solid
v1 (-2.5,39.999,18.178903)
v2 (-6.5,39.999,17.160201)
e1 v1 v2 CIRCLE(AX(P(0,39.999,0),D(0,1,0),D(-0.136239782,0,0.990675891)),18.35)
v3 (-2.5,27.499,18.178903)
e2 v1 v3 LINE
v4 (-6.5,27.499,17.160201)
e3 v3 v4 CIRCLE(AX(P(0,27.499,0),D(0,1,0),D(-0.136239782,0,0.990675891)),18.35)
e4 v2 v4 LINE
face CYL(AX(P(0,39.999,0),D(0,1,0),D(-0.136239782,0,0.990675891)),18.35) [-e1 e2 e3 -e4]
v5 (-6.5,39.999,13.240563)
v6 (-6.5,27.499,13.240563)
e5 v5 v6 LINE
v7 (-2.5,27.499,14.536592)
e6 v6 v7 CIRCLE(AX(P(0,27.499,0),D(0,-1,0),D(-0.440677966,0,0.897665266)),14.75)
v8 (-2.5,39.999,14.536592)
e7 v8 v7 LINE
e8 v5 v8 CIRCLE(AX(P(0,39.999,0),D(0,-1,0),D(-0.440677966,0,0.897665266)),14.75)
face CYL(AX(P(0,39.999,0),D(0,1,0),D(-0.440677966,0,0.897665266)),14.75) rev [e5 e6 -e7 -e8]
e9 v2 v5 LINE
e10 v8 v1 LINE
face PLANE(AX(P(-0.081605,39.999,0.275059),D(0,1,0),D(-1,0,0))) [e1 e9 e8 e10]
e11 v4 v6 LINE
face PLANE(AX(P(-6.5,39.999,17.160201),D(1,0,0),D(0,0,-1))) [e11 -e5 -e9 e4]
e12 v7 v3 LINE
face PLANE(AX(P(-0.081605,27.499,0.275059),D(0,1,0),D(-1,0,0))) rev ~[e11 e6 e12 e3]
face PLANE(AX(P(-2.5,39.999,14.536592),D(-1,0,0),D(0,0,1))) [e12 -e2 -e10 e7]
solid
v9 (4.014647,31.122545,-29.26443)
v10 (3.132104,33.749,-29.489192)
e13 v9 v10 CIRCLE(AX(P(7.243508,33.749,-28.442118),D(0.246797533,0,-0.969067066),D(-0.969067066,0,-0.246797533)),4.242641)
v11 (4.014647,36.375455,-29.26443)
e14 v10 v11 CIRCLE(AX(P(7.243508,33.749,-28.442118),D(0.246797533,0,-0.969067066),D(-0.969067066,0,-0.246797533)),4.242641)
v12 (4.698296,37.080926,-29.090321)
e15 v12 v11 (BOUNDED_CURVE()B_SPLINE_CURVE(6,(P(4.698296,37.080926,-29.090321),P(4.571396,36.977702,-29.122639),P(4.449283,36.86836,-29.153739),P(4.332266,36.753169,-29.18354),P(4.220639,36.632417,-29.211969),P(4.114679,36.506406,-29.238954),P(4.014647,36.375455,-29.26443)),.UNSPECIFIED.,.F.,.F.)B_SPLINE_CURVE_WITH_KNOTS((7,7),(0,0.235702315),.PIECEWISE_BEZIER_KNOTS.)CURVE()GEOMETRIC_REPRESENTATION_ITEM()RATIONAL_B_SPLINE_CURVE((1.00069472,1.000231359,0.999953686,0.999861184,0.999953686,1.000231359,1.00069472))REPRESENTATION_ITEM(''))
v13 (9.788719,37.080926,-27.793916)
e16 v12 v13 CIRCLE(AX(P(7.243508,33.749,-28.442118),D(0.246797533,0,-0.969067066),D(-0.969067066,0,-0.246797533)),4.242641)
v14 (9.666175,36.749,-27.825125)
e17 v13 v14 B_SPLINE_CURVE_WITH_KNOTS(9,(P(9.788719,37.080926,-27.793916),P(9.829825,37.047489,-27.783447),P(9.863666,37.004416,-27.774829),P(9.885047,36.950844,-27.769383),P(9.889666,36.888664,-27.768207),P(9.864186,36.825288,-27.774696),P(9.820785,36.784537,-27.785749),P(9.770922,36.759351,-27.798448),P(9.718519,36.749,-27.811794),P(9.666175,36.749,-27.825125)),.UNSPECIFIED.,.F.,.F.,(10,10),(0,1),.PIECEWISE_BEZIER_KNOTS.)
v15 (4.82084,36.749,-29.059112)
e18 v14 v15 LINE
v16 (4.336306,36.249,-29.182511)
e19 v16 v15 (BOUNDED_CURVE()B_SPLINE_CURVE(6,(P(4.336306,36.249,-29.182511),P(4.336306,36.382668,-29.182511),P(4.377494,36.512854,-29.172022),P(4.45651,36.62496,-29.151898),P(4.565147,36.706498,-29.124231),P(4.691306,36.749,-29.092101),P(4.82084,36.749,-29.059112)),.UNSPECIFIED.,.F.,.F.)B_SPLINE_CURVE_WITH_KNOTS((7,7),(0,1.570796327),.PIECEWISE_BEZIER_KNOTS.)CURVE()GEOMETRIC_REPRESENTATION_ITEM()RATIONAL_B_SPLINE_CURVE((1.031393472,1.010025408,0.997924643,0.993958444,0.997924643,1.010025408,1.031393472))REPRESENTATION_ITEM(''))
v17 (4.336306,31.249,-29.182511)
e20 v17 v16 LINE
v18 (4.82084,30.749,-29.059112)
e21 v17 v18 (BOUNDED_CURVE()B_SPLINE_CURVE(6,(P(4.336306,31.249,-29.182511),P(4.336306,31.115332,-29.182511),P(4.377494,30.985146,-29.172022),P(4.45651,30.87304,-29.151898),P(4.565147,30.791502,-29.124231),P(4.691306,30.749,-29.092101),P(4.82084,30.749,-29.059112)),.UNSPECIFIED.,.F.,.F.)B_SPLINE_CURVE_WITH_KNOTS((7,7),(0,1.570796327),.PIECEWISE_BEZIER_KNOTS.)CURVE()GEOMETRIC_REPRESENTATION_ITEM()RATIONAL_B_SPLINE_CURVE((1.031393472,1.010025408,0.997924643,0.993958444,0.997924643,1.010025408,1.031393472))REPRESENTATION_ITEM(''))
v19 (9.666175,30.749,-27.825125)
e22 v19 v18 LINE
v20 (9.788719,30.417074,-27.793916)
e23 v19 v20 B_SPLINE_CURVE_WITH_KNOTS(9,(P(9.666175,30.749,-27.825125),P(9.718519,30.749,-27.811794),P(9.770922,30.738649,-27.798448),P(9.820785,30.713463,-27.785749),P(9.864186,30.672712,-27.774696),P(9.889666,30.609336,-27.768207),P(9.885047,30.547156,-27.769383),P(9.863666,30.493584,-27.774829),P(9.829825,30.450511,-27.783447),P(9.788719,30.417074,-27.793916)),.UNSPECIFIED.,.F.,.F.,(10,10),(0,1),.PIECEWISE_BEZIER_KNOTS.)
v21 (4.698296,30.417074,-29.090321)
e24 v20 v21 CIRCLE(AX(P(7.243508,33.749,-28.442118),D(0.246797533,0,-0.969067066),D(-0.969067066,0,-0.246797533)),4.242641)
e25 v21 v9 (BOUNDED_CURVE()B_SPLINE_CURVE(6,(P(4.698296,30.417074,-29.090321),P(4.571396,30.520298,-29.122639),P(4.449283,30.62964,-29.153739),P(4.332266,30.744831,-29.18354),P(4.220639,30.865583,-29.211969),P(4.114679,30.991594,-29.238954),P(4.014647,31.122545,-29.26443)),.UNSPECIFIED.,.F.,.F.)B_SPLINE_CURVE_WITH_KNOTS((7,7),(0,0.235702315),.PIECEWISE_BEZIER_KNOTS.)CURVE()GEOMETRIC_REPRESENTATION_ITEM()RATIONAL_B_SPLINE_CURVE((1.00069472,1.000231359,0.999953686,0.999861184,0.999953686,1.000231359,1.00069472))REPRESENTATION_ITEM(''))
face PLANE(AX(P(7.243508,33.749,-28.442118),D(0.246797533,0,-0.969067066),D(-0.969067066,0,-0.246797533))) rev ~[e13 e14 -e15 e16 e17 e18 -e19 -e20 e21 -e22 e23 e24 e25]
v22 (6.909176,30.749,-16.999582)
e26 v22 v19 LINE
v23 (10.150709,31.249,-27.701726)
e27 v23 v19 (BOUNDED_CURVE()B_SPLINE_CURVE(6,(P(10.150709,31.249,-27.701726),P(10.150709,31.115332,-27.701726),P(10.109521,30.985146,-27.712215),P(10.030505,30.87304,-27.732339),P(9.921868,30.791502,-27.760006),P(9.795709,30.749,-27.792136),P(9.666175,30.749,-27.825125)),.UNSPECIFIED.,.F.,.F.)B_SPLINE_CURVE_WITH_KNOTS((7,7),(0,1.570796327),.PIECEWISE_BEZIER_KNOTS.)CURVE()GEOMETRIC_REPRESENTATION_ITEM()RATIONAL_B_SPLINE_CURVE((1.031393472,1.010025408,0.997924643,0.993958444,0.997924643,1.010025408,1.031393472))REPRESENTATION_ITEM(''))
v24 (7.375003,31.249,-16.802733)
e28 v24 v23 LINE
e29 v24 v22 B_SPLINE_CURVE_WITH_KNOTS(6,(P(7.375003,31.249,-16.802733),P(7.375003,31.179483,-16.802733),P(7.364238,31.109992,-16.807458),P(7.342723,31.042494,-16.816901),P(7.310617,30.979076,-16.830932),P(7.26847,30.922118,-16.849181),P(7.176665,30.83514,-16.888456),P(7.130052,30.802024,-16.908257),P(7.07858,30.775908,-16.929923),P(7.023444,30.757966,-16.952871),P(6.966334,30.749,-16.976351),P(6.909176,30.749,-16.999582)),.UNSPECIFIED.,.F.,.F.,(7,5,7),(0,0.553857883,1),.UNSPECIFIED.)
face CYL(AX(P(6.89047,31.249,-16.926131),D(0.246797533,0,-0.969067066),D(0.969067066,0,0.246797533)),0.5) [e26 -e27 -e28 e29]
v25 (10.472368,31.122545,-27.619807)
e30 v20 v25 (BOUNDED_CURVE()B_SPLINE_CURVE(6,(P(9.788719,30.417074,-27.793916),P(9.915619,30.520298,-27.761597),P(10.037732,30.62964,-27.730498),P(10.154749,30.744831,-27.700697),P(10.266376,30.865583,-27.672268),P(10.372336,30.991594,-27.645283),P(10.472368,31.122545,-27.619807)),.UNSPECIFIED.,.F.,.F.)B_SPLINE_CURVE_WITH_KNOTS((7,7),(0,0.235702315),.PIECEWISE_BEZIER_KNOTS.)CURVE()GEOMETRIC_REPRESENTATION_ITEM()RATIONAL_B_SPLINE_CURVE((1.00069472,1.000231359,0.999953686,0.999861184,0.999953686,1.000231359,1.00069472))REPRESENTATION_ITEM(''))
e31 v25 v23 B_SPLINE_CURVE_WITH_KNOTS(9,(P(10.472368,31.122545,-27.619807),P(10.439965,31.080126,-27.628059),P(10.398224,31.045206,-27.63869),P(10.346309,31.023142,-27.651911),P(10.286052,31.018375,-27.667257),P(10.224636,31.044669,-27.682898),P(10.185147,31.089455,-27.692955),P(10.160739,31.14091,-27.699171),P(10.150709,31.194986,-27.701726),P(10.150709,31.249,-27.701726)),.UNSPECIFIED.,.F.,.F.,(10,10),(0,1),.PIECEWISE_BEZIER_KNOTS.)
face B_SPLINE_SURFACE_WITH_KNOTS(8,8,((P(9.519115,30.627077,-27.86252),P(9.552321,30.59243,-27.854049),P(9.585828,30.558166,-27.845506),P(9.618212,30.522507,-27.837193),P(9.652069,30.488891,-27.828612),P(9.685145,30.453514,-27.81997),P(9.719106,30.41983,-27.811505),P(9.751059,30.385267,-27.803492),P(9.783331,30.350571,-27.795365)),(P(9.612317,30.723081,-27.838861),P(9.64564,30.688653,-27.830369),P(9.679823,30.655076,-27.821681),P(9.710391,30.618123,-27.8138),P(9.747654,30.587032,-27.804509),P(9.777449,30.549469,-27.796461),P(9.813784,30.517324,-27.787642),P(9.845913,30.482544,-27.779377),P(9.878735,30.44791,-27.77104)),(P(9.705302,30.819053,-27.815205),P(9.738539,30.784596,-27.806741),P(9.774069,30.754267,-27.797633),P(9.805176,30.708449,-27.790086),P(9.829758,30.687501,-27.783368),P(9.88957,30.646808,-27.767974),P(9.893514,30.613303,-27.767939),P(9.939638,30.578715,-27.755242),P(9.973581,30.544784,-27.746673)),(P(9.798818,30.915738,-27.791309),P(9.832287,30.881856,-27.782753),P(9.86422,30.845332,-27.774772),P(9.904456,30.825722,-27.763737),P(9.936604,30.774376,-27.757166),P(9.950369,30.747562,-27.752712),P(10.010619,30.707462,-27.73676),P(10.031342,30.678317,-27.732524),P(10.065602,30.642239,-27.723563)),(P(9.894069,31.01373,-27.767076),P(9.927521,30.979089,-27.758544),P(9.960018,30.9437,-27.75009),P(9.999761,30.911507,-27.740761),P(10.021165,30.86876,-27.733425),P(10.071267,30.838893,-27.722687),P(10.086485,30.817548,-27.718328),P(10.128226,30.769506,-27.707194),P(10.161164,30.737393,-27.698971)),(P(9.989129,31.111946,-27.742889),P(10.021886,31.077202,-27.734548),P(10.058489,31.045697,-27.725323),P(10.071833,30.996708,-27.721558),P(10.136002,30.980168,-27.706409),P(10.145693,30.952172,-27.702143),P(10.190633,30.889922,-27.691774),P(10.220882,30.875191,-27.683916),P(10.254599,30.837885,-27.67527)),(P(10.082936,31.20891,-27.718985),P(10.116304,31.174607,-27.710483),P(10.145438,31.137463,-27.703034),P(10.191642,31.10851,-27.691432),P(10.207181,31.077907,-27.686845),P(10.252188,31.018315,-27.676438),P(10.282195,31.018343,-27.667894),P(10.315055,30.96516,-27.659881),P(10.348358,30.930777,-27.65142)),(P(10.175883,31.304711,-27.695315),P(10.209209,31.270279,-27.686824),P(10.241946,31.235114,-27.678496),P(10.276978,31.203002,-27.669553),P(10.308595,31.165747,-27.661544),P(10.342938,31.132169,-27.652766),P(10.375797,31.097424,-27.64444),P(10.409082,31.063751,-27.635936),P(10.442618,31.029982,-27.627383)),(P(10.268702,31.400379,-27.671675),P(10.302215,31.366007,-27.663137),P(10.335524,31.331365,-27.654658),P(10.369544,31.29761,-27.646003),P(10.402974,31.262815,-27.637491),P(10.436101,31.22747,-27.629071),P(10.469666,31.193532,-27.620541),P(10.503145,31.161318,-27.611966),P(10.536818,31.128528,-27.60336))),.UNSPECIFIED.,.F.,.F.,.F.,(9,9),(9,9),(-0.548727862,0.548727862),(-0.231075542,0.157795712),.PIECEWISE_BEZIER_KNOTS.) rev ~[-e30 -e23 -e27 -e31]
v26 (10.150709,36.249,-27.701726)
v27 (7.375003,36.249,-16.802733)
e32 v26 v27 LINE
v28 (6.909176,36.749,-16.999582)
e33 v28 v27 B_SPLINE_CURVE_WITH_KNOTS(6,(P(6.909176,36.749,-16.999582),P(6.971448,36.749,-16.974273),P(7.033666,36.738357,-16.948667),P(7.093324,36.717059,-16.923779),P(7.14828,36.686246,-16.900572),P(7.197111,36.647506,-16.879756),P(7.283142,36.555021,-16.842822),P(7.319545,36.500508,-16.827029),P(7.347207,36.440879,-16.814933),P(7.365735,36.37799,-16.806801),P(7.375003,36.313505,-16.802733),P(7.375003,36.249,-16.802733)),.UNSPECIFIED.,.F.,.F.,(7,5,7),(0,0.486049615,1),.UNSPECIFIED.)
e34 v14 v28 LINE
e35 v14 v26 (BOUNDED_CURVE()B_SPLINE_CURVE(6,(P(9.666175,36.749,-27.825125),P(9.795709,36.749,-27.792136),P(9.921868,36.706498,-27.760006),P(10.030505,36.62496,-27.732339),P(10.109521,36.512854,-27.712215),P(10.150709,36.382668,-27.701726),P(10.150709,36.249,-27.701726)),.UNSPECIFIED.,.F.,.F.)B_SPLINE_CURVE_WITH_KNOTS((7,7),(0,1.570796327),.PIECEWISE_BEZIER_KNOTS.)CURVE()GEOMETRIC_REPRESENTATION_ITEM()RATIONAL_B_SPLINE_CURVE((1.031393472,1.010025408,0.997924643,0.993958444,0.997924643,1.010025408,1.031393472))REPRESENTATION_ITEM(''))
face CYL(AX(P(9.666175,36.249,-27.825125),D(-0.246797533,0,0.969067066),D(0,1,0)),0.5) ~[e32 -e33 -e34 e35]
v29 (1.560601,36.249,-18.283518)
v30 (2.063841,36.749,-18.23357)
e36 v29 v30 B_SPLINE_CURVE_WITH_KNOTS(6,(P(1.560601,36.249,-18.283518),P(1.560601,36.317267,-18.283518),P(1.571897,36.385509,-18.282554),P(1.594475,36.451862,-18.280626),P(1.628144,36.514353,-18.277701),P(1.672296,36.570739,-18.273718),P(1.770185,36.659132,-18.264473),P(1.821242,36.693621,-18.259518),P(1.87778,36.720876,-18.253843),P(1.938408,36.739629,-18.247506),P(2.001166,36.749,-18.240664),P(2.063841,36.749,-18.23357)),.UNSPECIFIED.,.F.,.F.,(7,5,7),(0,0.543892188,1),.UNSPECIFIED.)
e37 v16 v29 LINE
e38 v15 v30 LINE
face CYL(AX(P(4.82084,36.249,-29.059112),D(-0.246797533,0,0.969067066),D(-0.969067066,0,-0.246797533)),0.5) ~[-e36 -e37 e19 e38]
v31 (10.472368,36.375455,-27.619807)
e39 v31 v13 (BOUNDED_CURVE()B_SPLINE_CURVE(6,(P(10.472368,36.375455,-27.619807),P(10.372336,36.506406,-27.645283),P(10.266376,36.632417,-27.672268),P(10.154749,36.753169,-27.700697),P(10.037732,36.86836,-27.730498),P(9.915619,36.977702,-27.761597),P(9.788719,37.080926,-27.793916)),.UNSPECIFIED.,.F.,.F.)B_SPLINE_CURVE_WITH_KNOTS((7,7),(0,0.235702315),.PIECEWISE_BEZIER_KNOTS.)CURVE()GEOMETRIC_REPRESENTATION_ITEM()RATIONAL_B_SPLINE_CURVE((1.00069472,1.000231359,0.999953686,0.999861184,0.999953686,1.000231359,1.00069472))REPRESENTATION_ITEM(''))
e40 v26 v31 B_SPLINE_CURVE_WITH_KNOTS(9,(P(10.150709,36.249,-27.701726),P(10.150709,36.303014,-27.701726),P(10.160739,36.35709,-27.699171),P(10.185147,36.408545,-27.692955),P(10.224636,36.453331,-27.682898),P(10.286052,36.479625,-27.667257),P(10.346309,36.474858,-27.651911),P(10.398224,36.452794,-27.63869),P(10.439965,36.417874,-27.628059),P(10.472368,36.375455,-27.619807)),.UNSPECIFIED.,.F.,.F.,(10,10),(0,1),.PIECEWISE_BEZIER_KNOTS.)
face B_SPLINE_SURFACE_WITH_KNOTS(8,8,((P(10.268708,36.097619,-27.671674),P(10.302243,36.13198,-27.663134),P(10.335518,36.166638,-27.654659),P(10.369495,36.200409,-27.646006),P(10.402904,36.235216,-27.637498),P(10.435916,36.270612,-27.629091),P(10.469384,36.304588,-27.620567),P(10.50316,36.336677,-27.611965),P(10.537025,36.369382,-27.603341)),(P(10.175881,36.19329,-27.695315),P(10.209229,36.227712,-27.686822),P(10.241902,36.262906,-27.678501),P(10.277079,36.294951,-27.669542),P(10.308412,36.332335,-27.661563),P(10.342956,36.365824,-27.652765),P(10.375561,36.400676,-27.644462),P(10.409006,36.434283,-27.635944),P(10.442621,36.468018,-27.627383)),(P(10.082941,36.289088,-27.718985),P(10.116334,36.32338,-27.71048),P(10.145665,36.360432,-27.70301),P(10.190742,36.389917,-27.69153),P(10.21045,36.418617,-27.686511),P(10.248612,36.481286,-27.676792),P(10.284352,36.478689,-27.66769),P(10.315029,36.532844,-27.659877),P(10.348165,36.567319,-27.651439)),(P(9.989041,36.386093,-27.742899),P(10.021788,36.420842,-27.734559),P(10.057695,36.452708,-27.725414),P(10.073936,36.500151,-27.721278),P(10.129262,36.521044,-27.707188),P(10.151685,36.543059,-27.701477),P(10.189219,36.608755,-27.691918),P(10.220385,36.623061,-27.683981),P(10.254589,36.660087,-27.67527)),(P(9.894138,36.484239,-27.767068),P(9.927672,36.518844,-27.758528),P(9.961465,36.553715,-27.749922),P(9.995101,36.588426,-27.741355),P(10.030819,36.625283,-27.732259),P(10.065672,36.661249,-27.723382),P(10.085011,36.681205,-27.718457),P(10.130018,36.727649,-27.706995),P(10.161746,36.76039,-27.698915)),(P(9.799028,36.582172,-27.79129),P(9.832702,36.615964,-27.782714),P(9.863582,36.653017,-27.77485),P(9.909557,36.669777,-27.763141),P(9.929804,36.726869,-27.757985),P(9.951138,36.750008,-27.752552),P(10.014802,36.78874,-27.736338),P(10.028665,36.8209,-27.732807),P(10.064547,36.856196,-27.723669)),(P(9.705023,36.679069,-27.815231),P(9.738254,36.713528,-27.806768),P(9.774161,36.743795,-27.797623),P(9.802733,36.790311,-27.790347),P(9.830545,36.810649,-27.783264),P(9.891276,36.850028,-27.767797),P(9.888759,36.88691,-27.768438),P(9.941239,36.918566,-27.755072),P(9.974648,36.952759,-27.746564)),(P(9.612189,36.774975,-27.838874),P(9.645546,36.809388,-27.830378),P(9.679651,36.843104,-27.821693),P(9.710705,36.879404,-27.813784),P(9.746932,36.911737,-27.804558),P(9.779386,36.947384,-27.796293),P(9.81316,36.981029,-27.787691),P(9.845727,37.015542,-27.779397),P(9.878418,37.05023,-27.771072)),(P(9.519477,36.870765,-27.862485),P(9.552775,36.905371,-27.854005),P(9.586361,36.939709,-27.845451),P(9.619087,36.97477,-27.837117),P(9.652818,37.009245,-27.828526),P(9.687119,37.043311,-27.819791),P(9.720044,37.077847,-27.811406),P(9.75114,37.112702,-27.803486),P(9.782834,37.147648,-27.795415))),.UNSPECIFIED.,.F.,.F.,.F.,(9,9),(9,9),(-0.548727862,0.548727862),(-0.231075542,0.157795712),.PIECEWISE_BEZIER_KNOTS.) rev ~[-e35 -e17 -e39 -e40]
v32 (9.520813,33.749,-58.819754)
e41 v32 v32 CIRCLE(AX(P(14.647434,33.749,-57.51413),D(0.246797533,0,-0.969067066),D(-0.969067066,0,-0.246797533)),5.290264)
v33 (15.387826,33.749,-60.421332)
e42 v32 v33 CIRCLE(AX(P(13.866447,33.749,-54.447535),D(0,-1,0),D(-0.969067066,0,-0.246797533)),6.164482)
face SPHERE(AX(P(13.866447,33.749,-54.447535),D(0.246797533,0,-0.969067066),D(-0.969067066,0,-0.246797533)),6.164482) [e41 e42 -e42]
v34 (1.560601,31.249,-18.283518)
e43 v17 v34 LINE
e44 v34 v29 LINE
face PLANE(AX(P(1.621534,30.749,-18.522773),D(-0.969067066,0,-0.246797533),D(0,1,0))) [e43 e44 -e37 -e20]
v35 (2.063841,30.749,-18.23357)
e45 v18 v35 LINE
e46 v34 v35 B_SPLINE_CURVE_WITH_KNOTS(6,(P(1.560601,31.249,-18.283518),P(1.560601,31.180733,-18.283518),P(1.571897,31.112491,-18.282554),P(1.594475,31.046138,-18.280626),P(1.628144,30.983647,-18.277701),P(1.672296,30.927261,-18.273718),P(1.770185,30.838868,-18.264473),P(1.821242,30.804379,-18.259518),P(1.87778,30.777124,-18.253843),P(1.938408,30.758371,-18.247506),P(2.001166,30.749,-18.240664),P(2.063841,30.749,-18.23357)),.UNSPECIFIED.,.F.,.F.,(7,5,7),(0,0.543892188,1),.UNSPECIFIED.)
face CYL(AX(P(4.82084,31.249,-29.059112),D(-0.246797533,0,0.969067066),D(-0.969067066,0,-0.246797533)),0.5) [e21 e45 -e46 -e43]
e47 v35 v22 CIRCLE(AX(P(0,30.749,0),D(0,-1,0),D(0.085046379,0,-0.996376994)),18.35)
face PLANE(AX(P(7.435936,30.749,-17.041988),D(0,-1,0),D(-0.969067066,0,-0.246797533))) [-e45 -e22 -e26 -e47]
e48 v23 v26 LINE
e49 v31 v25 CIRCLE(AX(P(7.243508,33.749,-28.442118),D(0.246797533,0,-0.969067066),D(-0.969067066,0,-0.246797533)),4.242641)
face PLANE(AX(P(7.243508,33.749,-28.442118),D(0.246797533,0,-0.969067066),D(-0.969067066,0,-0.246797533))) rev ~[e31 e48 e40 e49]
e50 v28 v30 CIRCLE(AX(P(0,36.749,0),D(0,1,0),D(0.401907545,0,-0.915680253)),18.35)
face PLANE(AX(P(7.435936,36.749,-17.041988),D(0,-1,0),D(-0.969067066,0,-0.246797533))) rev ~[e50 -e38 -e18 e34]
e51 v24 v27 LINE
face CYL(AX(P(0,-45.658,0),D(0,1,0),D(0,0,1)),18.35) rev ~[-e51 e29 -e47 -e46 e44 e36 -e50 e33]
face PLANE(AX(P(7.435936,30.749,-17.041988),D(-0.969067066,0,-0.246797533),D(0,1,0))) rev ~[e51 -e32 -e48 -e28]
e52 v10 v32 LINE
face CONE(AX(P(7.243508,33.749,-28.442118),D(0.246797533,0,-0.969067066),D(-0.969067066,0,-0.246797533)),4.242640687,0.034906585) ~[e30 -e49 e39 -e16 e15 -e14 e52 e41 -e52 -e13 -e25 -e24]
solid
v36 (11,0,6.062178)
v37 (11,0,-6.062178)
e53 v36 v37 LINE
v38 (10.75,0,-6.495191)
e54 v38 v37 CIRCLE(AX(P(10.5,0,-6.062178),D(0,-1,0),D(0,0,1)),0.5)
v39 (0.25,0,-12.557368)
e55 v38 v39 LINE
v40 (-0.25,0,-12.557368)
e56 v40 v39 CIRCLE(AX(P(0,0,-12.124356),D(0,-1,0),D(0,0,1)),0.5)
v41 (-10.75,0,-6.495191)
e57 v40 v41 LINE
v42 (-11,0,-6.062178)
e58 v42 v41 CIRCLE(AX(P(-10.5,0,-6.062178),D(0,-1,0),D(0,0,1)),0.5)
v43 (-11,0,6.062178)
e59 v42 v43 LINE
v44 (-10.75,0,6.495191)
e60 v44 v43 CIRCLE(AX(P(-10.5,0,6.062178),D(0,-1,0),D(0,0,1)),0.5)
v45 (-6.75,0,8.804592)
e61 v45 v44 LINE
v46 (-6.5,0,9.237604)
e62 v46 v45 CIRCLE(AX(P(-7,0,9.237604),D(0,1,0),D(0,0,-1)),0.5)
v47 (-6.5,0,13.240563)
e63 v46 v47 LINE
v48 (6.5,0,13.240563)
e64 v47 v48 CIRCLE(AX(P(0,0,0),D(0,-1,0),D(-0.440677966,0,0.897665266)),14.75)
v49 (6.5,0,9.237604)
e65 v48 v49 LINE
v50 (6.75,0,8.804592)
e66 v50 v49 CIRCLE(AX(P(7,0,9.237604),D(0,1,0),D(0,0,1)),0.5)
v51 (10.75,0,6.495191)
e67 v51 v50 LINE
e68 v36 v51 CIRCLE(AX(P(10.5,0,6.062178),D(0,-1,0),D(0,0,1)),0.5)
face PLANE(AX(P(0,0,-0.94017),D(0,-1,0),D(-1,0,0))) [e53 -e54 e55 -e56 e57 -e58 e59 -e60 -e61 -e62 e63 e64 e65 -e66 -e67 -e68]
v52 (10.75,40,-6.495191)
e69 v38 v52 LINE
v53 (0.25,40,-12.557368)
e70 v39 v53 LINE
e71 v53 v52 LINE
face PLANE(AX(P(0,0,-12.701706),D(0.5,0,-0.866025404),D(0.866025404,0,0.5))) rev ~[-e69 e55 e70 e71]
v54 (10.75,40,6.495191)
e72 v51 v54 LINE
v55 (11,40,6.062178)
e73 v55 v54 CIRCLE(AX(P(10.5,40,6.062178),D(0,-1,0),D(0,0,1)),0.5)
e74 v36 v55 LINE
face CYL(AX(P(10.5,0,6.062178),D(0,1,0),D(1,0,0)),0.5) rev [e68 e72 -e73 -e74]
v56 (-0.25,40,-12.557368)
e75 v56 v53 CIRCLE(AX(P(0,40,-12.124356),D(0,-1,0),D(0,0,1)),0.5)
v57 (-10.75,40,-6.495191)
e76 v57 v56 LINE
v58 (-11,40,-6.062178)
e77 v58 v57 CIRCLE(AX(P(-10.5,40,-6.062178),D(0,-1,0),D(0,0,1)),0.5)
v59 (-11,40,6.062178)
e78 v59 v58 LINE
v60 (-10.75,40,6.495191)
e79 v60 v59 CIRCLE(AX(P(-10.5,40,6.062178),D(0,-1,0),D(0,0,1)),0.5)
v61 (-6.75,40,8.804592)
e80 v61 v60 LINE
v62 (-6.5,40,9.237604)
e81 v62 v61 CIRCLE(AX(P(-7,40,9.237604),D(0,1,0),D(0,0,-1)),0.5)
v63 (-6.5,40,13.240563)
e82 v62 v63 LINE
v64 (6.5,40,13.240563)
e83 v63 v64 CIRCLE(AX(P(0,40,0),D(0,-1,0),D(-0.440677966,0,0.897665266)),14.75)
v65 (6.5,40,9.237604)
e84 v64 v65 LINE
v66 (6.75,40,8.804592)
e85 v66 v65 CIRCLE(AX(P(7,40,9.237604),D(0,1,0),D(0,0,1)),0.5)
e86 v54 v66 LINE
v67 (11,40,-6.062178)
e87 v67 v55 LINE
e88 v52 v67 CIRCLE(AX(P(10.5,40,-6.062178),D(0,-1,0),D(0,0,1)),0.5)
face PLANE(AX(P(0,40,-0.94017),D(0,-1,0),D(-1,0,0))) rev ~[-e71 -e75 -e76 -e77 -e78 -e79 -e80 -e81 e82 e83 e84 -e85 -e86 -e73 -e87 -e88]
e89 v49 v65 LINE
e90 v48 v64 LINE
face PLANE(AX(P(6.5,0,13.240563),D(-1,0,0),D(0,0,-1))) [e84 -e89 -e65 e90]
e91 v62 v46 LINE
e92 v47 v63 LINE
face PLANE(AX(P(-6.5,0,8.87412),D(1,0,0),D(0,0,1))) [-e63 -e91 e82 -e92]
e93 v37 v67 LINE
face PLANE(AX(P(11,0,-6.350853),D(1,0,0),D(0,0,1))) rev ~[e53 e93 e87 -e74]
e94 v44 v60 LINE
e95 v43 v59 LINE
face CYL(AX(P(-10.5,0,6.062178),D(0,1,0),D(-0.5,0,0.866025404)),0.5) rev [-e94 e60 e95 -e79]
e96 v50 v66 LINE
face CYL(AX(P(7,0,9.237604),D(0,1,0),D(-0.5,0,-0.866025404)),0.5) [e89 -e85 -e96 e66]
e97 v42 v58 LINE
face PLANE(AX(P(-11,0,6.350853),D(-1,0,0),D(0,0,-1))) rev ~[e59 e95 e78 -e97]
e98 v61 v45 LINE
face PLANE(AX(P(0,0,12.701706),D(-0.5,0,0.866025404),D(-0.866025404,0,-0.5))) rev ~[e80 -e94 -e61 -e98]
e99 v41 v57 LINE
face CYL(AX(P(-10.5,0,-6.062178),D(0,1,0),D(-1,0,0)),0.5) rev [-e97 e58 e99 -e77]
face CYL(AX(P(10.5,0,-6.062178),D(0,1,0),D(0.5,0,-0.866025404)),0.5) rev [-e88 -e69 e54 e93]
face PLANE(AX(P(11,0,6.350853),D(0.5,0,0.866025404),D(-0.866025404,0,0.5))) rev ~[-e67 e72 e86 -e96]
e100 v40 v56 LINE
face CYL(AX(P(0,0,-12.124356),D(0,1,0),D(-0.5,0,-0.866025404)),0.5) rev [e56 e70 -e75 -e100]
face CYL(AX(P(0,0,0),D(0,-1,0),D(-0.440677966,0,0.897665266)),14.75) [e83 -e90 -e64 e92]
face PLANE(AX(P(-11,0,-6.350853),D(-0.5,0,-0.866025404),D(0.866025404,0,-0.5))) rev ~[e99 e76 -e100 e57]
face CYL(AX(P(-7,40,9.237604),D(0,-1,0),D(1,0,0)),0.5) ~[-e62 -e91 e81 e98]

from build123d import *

# Parameters (mm, degrees)
EXTRUDE3_DEPTH                  = 40
EXTRUDE4_DEPTH                  = 12.5
SKETCH22_W                      = 6.000000000000002
SKETCH22_H                      = 6.000000000000002
EXTRUDE5_DEPTH                  = 11
EXTRUDE5_DIRECTION_2_REACH      = 60.557
EXTRUDE5_DIRECTION_2_END_RADIUS = 18.349999999999998
SKETCH23_R                      = 4.242640687119289
EXTRUDE6_DEPTH                  = 30
EXTRUDE6_DRAFT                  = -2.0000000000000044
DOME1_FACE_RADIUS               = 5.290263772
DOME1_HEIGHT                    = 3
CUT_EXTRUDE7_DEPTH              = 76.2650637528968
FILLET2_R                       = 0.5
FILLET3_R                       = 0.5


with BuildPart() as part:
    # Sketch20 → Extrude3 (new body)
    with BuildSketch(Plane(origin=(0, 0, 0), x_dir=(1, 0, 0), z_dir=(0, 1, 0))):
        with BuildLine():
            Line((-6.5, -8.874119674649425), (-6.500000000000001, -13.240562676865359))
            ThreePointArc((-6.500000000000001, -13.240562676865359), (9e-16, 14.749999999999998), (6.500000000000001, -13.240562676865359))
            Line((6.500000000000001, -13.240562676865359), (6.5, -8.874119674649425))
            ThreePointArc((6.5, -8.874119674649425), (6.7e-16, 11), (-6.5, -8.874119674649425))
        make_face()
    extrude(amount=EXTRUDE3_DEPTH)

    # Sketch24 → Cut-Extrude7 (cut, through all)
    with BuildSketch(Plane.XZ):
        Polygon((-11, 6.350852961085881), (-11, -6.350852961085884), (-1.85e-15, -12.701705922171767), (10.999999999999998, -6.350852961085879), (10.999999999999998, 6.3508529610858835), (1.7e-16, 12.701705922171767), align=None)
    extrude(amount=-CUT_EXTRUDE7_DEPTH, mode=Mode.SUBTRACT)

    # Fillet3
    fillet3_edges = [part.edges().sort_by_distance(p)[0] for p in [
        (-6.5, 20, 8.948929172439197),
        (-11, 20, 6.350852961085881),
        (6.5, 20, 8.948929172439199),
        (10.999999999999998, 20, 6.3508529610858835),
        (10.999999999999998, 20, -6.350852961085879),
        (-1.85e-15, 20, -12.701705922171767),
        (-11, 20, -6.350852961085884),
    ]]
    fillet(fillet3_edges, radius=FILLET3_R)


with BuildPart() as body_2:
    # Sketch21 → Extrude4 (new body)
    with BuildSketch(Plane(origin=(0, 39.999, 0), x_dir=(-1, 0, 0), z_dir=(0, 1, 0))):
        with BuildLine():
            Line((2.5, 14.53659176010663), (2.5, 18.17890260714326))
            ThreePointArc((2.5, 18.17890260714326), (-4.528734725810917, -17.78238065567247), (6.500000000000001, 17.160201047773302))
            Line((6.500000000000001, 17.160201047773302), (6.500000000000001, 13.240562676865359))
            ThreePointArc((6.500000000000001, 13.240562676865359), (-4.546418683552128, -14.031841545351346), (2.5, 14.53659176010663))
        make_face()
    extrude(amount=-EXTRUDE4_DEPTH)


with BuildPart() as body_3:
    # Sketch22 → Extrude5 (new body)
    with BuildSketch(Plane(origin=(4.528734725810946, 39.999, -17.78238065567246), x_dir=(-0.9690670657042212, 0, -0.246797532741741), z_dir=(0.246797532741741, 0, -0.9690670657042212))):
        with Locations((0, -6.250000000000001)):
            Rectangle(SKETCH22_W, SKETCH22_H)
    extrude(amount=EXTRUDE5_DEPTH)

    # Extrude5 direction 2: up to this cylinder (the profile starts outside it)
    extrude5_direction_2_end = Plane(origin=(0, 33.749, 0), z_dir=(0, 1, 0)) * Cylinder(EXTRUDE5_DIRECTION_2_END_RADIUS, 158.814, mode=Mode.PRIVATE)
    # Sketch22 → Extrude5 direction 2 (add, up to the surface)
    with BuildSketch(Plane(origin=(4.528734725810946, 39.999, -17.78238065567246), x_dir=(-0.9690670657042212, 0, -0.246797532741741), z_dir=(0.246797532741741, 0, -0.9690670657042212)), mode=Mode.PRIVATE) as extrude5_direction_2_sk1:
        with Locations((0, -6.250000000000001)):
            Rectangle(SKETCH22_W, SKETCH22_H)
    extrude5_direction_2_tool1 = extrude(extrude5_direction_2_sk1.sketch, amount=-EXTRUDE5_DIRECTION_2_REACH, mode=Mode.PRIVATE) - extrude5_direction_2_end
    add(extrude5_direction_2_tool1.solids().sort_by_distance((4.528735, 33.749, -17.782381))[0])
    add(extrude5_direction_2_tool1.solids().sort_by_distance((4.528735, 33.749, -17.782381))[1])


with BuildPart() as extrude6_tool:
    # Sketch23 → Extrude6 (with draft: the straight prism first)
    with BuildSketch(Plane(origin=(7.243507585970091, 0, -28.442118378418904), x_dir=(-0.9690670657042213, -1.6827536930173812e-15, -0.24679753274174074), z_dir=(0.24679753274174074, 0, -0.9690670657042213))):
        with Locations((0, 33.74899999999994)):
            Circle(SKETCH23_R)
    extrude(amount=EXTRUDE6_DEPTH)
    # Extrude6: the draft: its side faces are tilted about the plane it starts from
    extrude6_sides = [extrude6_tool.faces().sort_by_distance(p)[0] for p in [
        (15.056873939, 33.749, -41.93105111),
    ]]
    draft(extrude6_sides, Plane(origin=(7.243507585970091, 0, -28.442118378418904), x_dir=(-0.9690670657042213, -1.6827536930173812e-15, -0.24679753274174074), z_dir=(0.24679753274174074, 0, -0.9690670657042213)), EXTRUDE6_DRAFT)


with BuildPart() as body_3_1:
    add(body_3.part)

    # Extrude6: add extrude6_tool
    add(extrude6_tool.part)

    # Dome1: a dome of height H over a round flat face of radius A is a cap of a sphere of radius (A * A + H * H) / (2 * H)
    dome1_r = (DOME1_FACE_RADIUS * DOME1_FACE_RADIUS + DOME1_HEIGHT * DOME1_HEIGHT) / (2 * DOME1_HEIGHT)
    dome1_base = Plane((14.647433568, 33.749, -57.51413035), z_dir=(0.246797532742, 0, -0.969067065704))
    with Locations(dome1_base.offset(DOME1_HEIGHT - dome1_r)):
        dome1_ball = Sphere(dome1_r, mode=Mode.PRIVATE)
    add(split(dome1_ball, bisect_by=dome1_base, keep=Keep.TOP, mode=Mode.PRIVATE))

    # Fillet2
    fillet2_edges = [body_3_1.edges().sort_by_distance(p)[0] for p in [
        (8.762856119135167, 36.749, -22.252229208083023),
        (2.9484537249098373, 36.749, -23.73301440453347),
        (2.948453724909837, 30.749000000000002, -23.73301440453347),
        (8.762856119135167, 30.749000000000002, -22.252229208083023),
    ]]
    fillet(fillet2_edges, radius=FILLET2_R)


solid = Compound([part.part, body_2.part, body_3_1.part])
